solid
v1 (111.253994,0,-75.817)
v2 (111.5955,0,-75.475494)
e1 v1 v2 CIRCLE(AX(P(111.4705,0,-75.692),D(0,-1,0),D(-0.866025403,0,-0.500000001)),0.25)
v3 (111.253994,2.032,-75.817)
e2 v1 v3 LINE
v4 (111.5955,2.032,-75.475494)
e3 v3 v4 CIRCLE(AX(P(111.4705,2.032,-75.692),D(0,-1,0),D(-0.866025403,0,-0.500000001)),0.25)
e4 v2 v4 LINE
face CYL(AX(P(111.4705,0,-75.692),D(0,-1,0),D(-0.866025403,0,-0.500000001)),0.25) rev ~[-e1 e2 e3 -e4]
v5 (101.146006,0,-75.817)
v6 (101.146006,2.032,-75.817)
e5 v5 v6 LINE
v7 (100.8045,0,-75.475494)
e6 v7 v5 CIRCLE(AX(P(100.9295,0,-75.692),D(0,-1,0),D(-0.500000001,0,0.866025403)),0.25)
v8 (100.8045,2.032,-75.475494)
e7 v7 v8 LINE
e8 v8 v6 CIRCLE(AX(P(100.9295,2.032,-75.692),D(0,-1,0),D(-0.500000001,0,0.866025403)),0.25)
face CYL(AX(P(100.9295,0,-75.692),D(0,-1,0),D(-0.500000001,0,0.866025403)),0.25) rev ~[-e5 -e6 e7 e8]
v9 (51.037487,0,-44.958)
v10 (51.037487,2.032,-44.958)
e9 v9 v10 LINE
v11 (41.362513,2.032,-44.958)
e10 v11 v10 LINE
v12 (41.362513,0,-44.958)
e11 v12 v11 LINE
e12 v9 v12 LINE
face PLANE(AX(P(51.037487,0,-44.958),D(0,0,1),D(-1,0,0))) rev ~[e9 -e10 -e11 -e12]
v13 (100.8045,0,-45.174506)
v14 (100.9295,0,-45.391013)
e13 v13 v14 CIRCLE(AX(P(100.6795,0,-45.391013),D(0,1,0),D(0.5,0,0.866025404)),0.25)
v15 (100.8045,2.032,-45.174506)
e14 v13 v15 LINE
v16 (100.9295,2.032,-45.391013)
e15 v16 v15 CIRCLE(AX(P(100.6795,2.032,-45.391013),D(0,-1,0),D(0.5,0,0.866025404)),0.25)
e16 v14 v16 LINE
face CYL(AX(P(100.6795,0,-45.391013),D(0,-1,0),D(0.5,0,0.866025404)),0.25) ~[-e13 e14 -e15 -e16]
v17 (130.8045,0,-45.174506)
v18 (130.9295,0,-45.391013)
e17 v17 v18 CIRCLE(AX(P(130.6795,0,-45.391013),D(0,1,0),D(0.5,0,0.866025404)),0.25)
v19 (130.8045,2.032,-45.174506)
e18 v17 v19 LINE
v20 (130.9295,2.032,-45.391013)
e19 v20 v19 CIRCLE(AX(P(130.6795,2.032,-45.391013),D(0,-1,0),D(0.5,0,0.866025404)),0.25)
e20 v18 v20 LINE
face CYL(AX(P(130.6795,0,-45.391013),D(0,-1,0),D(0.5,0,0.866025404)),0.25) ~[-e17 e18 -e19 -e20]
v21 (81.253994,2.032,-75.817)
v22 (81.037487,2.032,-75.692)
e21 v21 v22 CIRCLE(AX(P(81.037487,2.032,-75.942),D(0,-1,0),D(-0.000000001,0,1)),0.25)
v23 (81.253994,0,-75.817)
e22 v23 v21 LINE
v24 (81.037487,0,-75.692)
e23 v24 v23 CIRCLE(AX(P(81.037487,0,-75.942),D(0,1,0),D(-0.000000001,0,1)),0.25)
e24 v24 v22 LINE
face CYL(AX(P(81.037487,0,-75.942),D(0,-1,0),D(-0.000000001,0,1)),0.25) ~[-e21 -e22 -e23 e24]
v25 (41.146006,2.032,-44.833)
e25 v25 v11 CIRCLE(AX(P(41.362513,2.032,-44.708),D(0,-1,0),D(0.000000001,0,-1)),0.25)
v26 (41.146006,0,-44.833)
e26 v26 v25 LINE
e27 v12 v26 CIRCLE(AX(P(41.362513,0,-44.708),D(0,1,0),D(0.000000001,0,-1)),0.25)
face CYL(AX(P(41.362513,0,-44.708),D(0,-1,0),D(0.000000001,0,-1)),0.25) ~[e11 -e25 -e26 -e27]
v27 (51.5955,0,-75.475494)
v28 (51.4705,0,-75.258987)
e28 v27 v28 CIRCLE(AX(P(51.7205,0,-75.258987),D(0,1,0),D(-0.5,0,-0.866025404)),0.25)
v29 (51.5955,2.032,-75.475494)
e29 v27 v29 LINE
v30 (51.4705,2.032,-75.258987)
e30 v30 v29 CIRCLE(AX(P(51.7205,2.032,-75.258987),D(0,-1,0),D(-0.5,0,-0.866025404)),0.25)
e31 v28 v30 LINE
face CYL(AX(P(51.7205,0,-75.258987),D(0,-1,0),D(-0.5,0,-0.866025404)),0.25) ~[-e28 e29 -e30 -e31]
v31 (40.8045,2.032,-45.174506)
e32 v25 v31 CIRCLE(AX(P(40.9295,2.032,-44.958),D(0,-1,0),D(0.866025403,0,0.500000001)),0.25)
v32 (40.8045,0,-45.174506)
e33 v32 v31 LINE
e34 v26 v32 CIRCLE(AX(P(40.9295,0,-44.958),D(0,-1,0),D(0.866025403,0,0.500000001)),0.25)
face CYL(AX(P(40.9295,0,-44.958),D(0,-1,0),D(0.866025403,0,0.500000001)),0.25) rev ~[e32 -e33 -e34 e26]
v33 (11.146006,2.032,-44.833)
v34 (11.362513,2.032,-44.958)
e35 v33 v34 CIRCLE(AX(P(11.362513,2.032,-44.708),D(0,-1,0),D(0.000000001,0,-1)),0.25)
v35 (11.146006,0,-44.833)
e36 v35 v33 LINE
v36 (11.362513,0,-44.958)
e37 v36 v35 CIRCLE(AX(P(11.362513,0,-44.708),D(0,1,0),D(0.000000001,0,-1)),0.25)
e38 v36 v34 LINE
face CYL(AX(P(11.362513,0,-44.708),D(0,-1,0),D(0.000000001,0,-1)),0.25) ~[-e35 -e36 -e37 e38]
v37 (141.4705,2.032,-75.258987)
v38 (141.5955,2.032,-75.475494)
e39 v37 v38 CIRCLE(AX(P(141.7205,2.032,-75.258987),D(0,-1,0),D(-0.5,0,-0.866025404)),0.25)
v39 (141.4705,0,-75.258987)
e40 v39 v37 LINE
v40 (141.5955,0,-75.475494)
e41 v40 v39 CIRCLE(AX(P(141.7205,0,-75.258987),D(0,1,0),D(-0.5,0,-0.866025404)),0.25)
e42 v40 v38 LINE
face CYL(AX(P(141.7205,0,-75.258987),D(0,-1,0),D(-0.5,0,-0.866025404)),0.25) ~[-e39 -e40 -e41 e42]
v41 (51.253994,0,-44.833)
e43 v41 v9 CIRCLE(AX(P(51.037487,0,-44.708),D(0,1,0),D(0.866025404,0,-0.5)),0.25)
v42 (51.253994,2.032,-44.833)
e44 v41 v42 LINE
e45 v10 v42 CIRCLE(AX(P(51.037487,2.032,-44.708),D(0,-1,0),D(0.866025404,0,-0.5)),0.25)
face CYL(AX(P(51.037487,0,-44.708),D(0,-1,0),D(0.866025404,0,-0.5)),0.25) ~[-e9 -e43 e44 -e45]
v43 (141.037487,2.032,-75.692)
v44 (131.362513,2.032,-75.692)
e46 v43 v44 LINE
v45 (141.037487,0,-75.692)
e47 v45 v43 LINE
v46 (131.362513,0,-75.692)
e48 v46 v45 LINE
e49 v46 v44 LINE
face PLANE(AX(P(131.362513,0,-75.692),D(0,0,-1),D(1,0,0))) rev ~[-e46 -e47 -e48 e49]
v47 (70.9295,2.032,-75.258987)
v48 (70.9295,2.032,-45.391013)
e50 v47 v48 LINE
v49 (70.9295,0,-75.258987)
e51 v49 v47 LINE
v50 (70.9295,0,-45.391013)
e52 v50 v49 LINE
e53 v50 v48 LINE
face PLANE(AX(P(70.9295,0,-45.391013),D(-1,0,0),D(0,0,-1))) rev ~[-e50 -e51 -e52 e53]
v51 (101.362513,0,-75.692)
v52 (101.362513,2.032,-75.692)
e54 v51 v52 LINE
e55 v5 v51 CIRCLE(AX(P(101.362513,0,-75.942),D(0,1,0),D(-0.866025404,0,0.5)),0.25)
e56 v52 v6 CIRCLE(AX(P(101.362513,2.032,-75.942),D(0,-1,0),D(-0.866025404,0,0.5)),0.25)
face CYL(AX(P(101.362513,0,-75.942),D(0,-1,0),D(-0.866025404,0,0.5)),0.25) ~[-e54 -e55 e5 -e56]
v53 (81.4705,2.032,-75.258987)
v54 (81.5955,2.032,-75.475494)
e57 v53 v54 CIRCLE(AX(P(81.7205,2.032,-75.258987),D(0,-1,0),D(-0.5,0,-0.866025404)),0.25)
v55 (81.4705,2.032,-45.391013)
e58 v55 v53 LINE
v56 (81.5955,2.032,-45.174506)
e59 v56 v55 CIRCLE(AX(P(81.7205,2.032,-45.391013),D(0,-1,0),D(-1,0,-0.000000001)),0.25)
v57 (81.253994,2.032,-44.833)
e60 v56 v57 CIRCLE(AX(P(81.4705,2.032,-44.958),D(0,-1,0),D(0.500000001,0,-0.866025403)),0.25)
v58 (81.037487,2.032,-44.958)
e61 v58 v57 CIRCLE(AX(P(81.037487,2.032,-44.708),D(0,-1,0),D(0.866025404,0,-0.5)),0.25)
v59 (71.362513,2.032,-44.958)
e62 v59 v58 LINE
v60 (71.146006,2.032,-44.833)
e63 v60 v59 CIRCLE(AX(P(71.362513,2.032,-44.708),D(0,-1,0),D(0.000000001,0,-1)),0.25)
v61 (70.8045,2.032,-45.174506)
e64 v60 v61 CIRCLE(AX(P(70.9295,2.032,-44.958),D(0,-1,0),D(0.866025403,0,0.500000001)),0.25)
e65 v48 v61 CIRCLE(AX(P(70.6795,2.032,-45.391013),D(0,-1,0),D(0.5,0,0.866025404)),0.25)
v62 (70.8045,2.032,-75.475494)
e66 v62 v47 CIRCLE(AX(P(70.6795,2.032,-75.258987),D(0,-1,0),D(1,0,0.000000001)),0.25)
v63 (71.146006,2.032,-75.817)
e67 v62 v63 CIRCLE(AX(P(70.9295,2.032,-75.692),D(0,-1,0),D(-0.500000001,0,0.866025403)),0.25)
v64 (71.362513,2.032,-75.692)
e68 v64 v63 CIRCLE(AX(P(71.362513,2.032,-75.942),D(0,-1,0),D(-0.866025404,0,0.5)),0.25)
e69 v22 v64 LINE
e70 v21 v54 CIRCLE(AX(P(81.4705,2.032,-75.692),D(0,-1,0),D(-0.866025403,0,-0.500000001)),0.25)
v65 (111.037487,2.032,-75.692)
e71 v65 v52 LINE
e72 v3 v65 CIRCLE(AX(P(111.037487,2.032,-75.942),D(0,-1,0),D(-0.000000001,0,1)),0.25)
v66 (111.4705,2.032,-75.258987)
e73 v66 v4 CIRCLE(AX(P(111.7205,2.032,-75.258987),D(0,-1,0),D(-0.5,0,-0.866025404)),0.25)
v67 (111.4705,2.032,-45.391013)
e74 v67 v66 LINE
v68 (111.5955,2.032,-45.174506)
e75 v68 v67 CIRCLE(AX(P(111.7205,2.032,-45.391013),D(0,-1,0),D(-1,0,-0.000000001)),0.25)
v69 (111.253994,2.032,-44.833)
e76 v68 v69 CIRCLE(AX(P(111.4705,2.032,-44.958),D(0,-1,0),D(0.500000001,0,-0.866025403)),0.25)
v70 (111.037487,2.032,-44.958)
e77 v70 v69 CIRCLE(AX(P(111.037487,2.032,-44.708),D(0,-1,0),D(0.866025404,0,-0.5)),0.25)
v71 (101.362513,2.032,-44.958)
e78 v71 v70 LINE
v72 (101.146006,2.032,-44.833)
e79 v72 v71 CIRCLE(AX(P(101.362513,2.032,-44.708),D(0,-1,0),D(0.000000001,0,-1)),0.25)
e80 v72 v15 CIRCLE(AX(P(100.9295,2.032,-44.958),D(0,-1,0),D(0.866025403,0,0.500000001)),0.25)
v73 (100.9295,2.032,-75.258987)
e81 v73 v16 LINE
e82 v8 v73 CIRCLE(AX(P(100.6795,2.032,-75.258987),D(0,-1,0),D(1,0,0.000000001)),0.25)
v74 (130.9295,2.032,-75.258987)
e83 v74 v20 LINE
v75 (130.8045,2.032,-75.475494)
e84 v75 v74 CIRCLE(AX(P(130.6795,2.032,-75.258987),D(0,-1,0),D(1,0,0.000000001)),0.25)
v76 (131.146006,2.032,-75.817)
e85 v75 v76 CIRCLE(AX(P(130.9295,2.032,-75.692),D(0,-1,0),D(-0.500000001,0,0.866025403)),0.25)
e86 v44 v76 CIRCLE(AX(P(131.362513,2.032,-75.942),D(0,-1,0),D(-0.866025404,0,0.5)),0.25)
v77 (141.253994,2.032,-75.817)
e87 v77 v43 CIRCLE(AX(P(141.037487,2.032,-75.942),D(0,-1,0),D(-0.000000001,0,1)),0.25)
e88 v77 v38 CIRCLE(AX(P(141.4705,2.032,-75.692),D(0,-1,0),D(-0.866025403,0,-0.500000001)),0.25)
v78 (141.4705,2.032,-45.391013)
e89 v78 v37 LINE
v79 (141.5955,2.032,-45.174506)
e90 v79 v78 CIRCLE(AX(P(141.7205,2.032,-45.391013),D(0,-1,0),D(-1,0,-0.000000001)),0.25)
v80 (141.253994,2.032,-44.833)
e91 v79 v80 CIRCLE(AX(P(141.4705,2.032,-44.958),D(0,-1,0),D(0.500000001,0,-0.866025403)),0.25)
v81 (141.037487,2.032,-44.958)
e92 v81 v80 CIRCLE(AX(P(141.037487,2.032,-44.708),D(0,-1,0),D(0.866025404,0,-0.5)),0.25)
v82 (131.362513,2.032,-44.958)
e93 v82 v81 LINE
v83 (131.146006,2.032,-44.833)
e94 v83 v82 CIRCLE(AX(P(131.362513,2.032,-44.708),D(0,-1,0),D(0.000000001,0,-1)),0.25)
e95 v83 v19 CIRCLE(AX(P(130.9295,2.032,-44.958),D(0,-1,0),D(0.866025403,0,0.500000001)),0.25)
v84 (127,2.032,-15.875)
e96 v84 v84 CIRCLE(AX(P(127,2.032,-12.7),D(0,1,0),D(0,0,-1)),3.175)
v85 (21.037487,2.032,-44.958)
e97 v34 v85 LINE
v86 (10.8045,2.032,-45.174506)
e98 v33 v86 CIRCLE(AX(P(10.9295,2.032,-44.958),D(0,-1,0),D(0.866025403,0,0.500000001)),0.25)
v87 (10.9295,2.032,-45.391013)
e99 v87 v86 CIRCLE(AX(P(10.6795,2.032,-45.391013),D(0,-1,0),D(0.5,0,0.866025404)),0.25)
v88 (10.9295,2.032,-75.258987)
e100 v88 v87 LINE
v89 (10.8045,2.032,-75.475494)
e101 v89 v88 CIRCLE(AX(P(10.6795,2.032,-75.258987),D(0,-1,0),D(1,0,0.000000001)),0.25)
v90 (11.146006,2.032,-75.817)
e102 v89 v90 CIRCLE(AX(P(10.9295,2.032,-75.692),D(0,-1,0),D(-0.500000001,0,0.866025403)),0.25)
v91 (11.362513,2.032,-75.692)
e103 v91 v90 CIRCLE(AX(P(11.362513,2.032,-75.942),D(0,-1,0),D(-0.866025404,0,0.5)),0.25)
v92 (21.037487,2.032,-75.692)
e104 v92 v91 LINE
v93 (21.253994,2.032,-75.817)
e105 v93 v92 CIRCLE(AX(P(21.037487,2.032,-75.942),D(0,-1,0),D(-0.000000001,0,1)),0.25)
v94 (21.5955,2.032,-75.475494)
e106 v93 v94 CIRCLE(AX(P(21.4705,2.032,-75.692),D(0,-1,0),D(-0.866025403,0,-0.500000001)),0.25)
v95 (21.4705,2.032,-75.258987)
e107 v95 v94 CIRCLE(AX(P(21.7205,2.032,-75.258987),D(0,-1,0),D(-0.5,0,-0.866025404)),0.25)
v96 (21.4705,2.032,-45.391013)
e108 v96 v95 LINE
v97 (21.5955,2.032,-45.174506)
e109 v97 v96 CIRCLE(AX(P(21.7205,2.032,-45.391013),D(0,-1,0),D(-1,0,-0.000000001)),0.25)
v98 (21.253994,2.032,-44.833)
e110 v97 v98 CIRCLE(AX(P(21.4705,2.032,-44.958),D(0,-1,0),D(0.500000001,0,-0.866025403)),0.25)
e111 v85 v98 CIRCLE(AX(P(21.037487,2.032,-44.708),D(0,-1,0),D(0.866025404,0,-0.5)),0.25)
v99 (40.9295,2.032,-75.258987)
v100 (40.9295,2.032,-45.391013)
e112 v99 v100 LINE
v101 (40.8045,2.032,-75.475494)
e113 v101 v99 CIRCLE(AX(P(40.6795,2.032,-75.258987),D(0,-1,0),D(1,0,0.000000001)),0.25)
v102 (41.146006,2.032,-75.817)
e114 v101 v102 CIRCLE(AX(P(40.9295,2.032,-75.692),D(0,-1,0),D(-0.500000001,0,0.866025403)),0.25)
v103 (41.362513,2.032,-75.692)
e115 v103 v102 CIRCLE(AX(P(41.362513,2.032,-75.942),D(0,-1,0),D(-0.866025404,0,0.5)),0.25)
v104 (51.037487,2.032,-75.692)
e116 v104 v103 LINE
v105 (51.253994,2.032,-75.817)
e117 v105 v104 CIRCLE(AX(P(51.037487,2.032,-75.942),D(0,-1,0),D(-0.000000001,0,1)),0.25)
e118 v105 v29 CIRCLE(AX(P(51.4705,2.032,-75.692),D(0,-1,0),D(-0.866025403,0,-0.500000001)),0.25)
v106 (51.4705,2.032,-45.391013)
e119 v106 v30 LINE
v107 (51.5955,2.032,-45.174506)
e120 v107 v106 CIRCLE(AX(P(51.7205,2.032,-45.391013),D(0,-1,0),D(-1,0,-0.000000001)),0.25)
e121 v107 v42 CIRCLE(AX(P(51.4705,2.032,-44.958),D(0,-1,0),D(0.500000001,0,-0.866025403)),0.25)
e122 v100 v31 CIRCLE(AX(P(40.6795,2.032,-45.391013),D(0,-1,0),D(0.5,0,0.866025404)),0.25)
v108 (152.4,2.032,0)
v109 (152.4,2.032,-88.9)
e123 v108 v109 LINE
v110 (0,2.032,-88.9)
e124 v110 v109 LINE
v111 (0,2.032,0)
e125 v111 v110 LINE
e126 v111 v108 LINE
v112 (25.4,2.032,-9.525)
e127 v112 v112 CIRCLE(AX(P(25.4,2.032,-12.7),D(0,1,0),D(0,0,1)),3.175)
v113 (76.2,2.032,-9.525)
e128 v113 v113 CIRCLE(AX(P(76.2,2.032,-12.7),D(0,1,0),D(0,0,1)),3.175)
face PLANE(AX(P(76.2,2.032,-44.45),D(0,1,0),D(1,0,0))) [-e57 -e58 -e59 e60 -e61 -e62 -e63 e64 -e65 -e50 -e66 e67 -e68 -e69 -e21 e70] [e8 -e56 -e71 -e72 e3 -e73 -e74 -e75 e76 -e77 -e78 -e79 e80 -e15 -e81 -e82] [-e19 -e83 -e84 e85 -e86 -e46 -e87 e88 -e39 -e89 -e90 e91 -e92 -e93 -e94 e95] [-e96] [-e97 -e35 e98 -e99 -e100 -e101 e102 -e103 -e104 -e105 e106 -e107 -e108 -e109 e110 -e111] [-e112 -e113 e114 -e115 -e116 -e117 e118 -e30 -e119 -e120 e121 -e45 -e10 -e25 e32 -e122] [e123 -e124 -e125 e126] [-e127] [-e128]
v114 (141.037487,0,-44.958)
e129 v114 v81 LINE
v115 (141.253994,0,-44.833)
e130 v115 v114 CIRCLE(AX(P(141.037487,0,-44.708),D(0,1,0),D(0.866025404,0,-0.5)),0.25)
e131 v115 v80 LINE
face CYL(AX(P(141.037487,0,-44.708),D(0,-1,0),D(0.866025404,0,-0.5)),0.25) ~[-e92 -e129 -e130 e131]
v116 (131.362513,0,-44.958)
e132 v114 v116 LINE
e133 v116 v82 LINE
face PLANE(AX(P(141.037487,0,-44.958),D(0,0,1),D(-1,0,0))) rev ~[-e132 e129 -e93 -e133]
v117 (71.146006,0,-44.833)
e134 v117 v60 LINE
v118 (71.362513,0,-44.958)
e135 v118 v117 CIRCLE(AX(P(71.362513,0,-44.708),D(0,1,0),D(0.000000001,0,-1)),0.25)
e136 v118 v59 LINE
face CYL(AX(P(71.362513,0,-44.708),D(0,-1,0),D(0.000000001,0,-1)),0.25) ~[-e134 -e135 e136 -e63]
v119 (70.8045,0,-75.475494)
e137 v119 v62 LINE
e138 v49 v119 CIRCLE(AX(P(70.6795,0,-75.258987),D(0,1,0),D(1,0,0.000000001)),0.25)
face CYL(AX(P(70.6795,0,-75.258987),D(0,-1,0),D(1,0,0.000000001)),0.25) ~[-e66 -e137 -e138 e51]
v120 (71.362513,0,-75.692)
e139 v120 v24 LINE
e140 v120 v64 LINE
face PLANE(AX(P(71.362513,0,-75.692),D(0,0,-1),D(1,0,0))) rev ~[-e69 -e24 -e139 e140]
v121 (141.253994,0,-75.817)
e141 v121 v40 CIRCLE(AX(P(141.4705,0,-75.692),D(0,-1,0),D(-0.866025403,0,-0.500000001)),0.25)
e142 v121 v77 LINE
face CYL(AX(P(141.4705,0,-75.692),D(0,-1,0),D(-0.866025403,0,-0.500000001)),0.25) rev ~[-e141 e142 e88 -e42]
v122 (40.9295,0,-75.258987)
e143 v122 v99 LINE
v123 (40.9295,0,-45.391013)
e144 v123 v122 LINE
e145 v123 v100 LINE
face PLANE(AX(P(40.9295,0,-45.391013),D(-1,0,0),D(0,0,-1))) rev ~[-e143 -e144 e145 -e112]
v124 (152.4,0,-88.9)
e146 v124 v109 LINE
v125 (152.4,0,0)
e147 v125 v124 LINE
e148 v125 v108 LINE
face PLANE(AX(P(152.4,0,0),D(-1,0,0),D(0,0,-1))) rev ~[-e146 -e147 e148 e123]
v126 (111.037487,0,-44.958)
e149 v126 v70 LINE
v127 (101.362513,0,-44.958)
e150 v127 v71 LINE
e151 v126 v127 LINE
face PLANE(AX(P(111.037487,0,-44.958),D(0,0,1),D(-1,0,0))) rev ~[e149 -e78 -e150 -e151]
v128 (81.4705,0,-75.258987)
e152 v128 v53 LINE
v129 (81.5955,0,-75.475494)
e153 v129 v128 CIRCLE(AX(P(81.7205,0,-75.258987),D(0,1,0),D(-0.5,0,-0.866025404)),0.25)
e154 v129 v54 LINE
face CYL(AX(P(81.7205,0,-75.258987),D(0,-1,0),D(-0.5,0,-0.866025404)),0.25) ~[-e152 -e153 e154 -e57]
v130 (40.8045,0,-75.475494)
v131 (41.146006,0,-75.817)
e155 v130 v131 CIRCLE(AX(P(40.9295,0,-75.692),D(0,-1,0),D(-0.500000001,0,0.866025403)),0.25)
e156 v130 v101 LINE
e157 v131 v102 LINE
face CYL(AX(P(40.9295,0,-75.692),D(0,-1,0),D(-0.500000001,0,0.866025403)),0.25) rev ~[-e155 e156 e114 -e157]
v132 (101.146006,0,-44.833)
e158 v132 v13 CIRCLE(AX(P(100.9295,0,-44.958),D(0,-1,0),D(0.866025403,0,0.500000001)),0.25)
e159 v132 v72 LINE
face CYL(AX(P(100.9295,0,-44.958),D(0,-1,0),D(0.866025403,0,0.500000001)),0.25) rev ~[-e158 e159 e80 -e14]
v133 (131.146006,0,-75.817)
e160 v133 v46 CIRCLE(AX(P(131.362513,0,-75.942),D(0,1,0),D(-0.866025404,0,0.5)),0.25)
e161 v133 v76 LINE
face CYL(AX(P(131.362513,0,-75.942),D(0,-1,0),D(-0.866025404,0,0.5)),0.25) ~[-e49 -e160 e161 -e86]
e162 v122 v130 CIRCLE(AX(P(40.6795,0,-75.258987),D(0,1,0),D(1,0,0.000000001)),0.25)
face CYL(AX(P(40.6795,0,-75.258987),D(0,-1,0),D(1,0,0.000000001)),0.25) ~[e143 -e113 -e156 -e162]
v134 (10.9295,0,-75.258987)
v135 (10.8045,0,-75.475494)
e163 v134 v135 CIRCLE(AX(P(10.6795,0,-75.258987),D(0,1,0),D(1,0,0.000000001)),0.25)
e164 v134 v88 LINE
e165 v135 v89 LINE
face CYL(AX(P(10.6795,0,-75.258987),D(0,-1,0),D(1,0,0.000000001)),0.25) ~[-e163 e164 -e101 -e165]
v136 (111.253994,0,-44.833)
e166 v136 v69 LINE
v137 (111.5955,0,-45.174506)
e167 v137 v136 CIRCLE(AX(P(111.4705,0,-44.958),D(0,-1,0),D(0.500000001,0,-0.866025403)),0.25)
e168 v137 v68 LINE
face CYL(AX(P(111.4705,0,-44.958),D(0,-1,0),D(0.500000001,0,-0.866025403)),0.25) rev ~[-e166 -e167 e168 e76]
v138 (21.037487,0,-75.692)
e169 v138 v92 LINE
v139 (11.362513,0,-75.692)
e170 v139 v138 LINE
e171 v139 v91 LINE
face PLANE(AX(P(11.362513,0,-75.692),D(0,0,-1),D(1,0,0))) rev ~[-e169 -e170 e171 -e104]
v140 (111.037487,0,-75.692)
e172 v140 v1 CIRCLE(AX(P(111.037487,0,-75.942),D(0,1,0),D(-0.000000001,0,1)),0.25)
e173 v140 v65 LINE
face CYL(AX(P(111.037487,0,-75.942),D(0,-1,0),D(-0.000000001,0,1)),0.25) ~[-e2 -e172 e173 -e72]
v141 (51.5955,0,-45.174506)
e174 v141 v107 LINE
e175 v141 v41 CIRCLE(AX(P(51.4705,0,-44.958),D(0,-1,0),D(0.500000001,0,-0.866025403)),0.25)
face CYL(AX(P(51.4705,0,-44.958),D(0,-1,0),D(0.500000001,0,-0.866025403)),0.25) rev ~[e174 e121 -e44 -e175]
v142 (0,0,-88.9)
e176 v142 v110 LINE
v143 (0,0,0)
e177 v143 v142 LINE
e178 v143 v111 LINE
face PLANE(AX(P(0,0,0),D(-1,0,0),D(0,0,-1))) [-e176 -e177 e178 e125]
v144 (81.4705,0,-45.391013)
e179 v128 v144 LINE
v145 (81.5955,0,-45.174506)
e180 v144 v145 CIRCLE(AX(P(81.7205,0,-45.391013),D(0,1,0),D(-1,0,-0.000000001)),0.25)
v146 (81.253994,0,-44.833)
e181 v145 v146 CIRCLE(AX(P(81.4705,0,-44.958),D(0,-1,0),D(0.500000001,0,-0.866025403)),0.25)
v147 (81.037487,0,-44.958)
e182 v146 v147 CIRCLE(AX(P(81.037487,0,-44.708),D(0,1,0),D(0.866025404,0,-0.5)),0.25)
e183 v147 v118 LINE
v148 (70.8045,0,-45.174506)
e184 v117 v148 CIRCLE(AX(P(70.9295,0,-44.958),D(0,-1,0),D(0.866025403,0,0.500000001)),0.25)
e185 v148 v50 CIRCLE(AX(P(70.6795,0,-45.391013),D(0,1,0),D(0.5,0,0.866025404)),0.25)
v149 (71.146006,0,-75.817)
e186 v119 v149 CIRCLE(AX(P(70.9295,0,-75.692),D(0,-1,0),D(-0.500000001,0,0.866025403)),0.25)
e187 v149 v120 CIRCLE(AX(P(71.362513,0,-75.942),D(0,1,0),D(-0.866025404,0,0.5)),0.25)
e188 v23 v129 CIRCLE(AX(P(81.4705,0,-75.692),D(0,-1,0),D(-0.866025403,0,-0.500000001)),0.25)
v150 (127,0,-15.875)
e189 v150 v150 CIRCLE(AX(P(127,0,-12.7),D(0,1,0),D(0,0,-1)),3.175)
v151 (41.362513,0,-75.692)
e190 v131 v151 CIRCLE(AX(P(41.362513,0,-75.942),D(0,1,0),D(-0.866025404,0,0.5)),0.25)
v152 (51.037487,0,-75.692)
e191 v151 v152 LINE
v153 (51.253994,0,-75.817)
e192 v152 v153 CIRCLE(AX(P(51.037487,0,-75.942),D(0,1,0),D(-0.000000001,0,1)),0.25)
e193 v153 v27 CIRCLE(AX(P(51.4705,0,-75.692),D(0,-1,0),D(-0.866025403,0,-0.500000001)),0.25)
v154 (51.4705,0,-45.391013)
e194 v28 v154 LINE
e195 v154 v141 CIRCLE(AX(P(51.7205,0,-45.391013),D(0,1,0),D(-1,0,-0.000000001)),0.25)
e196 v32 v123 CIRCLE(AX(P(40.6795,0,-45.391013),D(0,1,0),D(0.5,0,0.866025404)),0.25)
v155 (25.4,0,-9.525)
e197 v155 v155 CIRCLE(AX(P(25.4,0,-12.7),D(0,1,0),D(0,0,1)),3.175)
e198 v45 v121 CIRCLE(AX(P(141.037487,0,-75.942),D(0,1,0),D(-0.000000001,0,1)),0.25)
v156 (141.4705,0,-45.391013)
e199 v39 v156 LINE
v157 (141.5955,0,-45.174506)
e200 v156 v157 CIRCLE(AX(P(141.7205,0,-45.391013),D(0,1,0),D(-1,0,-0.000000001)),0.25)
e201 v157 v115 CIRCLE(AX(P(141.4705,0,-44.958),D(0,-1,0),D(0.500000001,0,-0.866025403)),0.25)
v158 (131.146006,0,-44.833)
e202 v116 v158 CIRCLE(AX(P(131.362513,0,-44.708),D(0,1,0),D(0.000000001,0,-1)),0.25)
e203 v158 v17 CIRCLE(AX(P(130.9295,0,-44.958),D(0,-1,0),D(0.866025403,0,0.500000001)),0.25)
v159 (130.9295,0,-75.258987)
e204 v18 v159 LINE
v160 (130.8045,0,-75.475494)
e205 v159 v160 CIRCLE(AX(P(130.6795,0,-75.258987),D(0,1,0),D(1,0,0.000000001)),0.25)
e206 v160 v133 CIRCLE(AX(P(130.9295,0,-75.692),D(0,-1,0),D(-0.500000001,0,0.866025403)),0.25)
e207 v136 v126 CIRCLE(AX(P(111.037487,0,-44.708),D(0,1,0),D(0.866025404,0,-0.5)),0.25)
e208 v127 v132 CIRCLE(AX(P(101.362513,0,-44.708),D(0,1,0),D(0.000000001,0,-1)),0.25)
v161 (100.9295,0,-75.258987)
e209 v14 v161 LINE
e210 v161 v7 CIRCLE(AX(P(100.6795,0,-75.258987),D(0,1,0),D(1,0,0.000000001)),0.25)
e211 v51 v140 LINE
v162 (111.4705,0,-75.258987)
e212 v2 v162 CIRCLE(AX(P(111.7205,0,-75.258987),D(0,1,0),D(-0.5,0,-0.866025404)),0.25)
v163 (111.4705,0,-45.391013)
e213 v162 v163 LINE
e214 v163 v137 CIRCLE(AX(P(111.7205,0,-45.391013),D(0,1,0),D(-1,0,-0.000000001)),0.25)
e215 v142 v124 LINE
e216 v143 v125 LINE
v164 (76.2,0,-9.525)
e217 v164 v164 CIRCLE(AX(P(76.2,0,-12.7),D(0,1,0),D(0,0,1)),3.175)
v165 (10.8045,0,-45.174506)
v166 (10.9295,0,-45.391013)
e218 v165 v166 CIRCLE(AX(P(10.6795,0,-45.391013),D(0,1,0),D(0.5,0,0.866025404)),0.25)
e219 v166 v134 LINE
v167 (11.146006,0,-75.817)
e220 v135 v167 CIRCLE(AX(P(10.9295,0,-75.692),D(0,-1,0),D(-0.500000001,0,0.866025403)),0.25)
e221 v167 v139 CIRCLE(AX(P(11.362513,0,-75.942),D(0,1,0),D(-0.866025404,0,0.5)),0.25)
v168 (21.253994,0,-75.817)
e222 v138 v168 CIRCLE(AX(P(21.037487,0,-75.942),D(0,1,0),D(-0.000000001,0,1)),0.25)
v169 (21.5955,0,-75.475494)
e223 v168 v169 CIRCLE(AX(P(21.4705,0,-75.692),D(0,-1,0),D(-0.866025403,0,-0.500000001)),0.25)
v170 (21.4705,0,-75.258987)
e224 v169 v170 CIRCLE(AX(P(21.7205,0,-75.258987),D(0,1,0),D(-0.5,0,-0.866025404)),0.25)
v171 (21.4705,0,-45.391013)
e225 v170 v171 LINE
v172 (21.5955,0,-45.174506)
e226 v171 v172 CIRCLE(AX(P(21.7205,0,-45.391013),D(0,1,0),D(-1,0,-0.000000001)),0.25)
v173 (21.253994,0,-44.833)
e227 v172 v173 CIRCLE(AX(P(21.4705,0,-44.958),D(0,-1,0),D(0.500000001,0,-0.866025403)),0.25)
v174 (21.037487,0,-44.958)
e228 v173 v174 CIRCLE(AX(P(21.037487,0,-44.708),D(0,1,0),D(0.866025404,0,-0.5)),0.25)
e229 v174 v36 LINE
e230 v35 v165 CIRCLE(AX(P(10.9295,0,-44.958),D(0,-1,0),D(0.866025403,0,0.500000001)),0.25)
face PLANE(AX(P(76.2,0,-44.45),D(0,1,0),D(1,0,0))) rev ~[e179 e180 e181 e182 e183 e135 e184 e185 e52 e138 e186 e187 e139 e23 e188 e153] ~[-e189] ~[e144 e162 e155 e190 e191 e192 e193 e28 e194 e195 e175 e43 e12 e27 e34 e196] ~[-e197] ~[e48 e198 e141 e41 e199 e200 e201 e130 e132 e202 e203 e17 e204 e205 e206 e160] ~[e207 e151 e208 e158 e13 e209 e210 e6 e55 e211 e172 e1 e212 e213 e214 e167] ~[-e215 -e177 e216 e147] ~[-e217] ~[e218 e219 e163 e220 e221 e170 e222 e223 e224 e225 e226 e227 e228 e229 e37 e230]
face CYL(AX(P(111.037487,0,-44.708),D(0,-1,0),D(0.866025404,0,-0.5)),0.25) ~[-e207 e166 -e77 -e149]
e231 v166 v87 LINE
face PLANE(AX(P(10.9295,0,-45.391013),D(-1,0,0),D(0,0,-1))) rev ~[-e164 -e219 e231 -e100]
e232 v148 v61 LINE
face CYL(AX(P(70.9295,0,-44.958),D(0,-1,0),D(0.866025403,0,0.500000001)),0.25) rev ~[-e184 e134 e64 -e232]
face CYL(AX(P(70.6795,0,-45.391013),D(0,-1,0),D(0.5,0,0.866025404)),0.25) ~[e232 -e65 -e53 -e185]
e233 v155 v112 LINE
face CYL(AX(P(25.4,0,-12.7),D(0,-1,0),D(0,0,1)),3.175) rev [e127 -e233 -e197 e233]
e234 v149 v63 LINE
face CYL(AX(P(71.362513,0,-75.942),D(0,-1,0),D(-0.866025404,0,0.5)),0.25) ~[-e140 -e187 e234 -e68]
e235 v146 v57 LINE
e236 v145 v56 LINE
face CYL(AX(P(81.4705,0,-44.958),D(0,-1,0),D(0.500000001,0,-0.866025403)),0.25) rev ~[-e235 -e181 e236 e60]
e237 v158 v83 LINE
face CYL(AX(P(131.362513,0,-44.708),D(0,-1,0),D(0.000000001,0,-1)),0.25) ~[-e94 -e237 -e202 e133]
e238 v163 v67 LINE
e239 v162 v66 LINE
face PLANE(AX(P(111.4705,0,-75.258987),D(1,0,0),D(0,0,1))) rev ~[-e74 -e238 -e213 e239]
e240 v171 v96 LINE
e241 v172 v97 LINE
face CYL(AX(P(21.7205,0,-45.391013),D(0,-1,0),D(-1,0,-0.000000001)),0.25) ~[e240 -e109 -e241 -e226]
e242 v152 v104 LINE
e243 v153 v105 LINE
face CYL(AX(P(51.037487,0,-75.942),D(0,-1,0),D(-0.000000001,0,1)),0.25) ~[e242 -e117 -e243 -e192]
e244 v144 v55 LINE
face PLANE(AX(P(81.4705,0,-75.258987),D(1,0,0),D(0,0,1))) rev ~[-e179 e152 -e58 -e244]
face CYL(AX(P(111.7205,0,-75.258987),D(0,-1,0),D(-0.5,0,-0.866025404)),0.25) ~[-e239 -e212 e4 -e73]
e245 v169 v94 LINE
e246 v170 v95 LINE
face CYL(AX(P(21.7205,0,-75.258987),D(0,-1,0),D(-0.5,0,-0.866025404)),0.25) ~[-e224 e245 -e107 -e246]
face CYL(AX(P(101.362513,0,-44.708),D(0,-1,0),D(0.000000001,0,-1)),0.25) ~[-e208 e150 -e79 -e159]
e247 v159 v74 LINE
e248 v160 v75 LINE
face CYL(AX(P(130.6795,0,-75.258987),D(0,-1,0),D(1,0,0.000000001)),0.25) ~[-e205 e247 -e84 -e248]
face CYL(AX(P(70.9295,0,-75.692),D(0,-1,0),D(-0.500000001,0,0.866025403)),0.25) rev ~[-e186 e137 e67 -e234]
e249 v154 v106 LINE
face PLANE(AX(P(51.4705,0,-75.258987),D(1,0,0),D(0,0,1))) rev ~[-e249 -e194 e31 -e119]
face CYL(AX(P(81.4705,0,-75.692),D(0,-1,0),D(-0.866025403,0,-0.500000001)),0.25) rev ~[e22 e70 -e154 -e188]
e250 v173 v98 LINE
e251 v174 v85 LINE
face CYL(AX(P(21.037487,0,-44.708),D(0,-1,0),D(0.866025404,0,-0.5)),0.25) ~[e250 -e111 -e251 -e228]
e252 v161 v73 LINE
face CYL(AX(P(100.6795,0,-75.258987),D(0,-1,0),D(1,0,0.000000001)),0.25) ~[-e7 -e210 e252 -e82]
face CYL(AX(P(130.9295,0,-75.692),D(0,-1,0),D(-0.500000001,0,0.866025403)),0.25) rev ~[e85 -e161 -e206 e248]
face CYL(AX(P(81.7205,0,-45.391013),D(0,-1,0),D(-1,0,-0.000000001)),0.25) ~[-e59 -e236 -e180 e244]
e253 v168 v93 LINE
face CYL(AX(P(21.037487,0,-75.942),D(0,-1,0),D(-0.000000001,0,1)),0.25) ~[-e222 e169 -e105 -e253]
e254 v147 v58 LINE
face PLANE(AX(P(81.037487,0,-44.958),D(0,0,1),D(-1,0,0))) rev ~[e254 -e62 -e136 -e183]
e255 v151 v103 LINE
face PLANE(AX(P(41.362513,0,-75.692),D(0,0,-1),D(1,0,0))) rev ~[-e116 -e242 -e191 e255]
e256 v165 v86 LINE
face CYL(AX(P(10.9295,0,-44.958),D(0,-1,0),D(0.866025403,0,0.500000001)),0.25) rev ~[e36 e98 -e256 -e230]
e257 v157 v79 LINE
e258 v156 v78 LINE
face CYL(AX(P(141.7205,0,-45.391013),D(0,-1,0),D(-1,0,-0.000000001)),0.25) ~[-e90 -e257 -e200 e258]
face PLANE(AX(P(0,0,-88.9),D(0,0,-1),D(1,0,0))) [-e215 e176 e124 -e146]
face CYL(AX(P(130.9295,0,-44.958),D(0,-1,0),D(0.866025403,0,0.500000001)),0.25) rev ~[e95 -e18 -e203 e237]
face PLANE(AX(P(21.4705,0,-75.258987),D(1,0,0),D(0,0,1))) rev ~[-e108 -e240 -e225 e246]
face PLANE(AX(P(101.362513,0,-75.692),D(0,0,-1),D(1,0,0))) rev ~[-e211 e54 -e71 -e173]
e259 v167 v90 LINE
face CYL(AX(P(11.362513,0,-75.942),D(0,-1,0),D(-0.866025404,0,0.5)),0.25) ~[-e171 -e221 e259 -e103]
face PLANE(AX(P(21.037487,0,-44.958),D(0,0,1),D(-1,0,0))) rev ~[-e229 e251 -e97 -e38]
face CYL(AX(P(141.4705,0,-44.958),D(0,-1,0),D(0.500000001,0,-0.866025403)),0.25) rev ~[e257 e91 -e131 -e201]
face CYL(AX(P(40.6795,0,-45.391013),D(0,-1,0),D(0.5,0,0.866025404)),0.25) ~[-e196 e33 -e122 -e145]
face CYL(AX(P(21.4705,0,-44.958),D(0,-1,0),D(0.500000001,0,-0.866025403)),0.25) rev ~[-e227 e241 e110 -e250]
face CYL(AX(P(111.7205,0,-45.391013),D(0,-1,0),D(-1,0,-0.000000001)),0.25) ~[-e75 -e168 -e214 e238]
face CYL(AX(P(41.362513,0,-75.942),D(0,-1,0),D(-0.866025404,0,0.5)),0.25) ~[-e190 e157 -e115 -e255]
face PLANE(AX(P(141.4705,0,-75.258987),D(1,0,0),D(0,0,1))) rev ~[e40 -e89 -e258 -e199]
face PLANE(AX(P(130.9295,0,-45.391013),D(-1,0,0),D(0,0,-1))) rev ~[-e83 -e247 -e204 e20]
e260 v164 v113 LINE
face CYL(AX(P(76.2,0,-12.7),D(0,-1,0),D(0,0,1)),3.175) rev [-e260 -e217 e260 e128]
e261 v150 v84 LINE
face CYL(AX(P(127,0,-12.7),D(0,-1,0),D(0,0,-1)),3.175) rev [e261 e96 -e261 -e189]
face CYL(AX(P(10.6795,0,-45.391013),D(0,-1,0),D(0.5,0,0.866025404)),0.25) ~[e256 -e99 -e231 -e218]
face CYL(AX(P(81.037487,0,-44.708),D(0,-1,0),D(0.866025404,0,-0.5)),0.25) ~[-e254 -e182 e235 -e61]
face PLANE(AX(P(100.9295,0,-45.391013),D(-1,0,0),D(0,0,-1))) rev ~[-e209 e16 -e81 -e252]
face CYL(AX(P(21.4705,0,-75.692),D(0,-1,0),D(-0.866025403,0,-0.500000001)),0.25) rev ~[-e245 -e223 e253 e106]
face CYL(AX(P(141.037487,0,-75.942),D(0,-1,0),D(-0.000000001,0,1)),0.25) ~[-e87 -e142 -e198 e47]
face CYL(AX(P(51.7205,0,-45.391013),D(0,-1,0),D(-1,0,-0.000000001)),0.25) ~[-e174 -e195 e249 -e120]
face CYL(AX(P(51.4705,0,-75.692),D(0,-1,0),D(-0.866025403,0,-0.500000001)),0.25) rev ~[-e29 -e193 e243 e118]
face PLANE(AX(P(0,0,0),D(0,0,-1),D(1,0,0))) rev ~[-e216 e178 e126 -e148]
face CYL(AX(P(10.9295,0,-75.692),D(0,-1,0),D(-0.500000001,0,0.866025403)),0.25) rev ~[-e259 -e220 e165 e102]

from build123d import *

# Parameters (mm, degrees)
SKETCH1_W           = 152.4
SKETCH1_H           = 88.9
SKETCH1_R           = 3.175
BOSS_EXTRUDE1_DEPTH = 2.032
CUT_EXTRUDE1_DEPTH  = 177.445739603


with BuildPart() as part:
    # Sketch1 → Boss-Extrude1 (new body)
    with BuildSketch(Plane(origin=(0, 0, 0), x_dir=(1, 0, 0), z_dir=(0, 1, 0))):
        with Locations((76.2, 44.45)):
            Rectangle(SKETCH1_W, SKETCH1_H)
        with Locations(Location((76.2, 12.7, 0), (0, 0, 270))):
            Circle(SKETCH1_R, mode=Mode.SUBTRACT)
        with Locations(Location((25.4, 12.7, 0), (0, 0, 270))):
            Circle(SKETCH1_R, mode=Mode.SUBTRACT)
        with Locations(Location((127, 12.7, 0), (0, 0, 90))):
            Circle(SKETCH1_R, mode=Mode.SUBTRACT)
    extrude(amount=BOSS_EXTRUDE1_DEPTH)

    # Sketch2 → Cut-Extrude1 (cut, through all)
    with BuildSketch(Plane.XZ):
        with BuildLine():
            ThreePointArc((141.5955, -45.174506351), (141.647276695, -44.781223305), (141.253993649, -44.833))
            ThreePointArc((141.253993649, -44.833), (141.162487298, -44.924506351), (141.037487298, -44.958))
            Line((141.037487298, -44.958), (131.362512702, -44.958))
            ThreePointArc((131.362512702, -44.958), (131.237512702, -44.924506351), (131.146006351, -44.833))
            ThreePointArc((131.146006351, -44.833), (130.752723305, -44.781223305), (130.8045, -45.174506351))
            ThreePointArc((130.8045, -45.174506351), (130.896006351, -45.266012702), (130.9295, -45.391012702))
            Line((130.9295, -45.391012702), (130.9295, -75.258987298))
            ThreePointArc((130.9295, -75.258987298), (130.896006351, -75.383987298), (130.8045, -75.475493649))
            ThreePointArc((130.8045, -75.475493649), (130.752723305, -75.868776695), (131.146006351, -75.817))
            ThreePointArc((131.146006351, -75.817), (131.237512702, -75.725493649), (131.362512702, -75.692))
            Line((131.362512702, -75.692), (141.037487298, -75.692))
            ThreePointArc((141.037487298, -75.692), (141.162487298, -75.725493649), (141.253993649, -75.817))
            ThreePointArc((141.253993649, -75.817), (141.647276695, -75.868776695), (141.5955, -75.475493649))
            ThreePointArc((141.5955, -75.475493649), (141.503993649, -75.383987298), (141.4705, -75.258987298))
            Line((141.4705, -75.258987298), (141.4705, -45.391012702))
            ThreePointArc((141.4705, -45.391012702), (141.503993649, -45.266012702), (141.5955, -45.174506351))
        make_face()
        with BuildLine():
            ThreePointArc((111.5955, -45.174506351), (111.647276695, -44.781223305), (111.253993649, -44.833))
            ThreePointArc((111.253993649, -44.833), (111.162487298, -44.924506351), (111.037487298, -44.958))
            Line((111.037487298, -44.958), (101.362512702, -44.958))
            ThreePointArc((101.362512702, -44.958), (101.237512702, -44.924506351), (101.146006351, -44.833))
            ThreePointArc((101.146006351, -44.833), (100.752723305, -44.781223305), (100.8045, -45.174506351))
            ThreePointArc((100.8045, -45.174506351), (100.896006351, -45.266012702), (100.9295, -45.391012702))
            Line((100.9295, -45.391012702), (100.9295, -75.258987298))
            ThreePointArc((100.9295, -75.258987298), (100.896006351, -75.383987298), (100.8045, -75.475493649))
            ThreePointArc((100.8045, -75.475493649), (100.752723305, -75.868776695), (101.146006351, -75.817))
            ThreePointArc((101.146006351, -75.817), (101.237512702, -75.725493649), (101.362512702, -75.692))
            Line((101.362512702, -75.692), (111.037487298, -75.692))
            ThreePointArc((111.037487298, -75.692), (111.162487298, -75.725493649), (111.253993649, -75.817))
            ThreePointArc((111.253993649, -75.817), (111.647276695, -75.868776695), (111.5955, -75.475493649))
            ThreePointArc((111.5955, -75.475493649), (111.503993649, -75.383987298), (111.4705, -75.258987298))
            Line((111.4705, -75.258987298), (111.4705, -45.391012702))
            ThreePointArc((111.4705, -45.391012702), (111.503993649, -45.266012702), (111.5955, -45.174506351))
        make_face()
        with BuildLine():
            ThreePointArc((81.5955, -45.174506351), (81.647276695, -44.781223305), (81.253993649, -44.833))
            ThreePointArc((81.253993649, -44.833), (81.162487298, -44.924506351), (81.037487298, -44.958))
            Line((81.037487298, -44.958), (71.362512702, -44.958))
            ThreePointArc((71.362512702, -44.958), (71.237512702, -44.924506351), (71.146006351, -44.833))
            ThreePointArc((71.146006351, -44.833), (70.752723305, -44.781223305), (70.8045, -45.174506351))
            ThreePointArc((70.8045, -45.174506351), (70.896006351, -45.266012702), (70.9295, -45.391012702))
            Line((70.9295, -45.391012702), (70.9295, -75.258987298))
            ThreePointArc((70.9295, -75.258987298), (70.896006351, -75.383987298), (70.8045, -75.475493649))
            ThreePointArc((70.8045, -75.475493649), (70.752723305, -75.868776695), (71.146006351, -75.817))
            ThreePointArc((71.146006351, -75.817), (71.237512702, -75.725493649), (71.362512702, -75.692))
            Line((71.362512702, -75.692), (81.037487298, -75.692))
            ThreePointArc((81.037487298, -75.692), (81.162487298, -75.725493649), (81.253993649, -75.817))
            ThreePointArc((81.253993649, -75.817), (81.647276695, -75.868776695), (81.5955, -75.475493649))
            ThreePointArc((81.5955, -75.475493649), (81.503993649, -75.383987298), (81.4705, -75.258987298))
            Line((81.4705, -75.258987298), (81.4705, -45.391012702))
            ThreePointArc((81.4705, -45.391012702), (81.503993649, -45.266012702), (81.5955, -45.174506351))
        make_face()
        with BuildLine():
            ThreePointArc((51.5955, -45.174506351), (51.647276695, -44.781223305), (51.253993649, -44.833))
            ThreePointArc((51.253993649, -44.833), (51.162487298, -44.924506351), (51.037487298, -44.958))
            Line((51.037487298, -44.958), (41.362512702, -44.958))
            ThreePointArc((41.362512702, -44.958), (41.237512702, -44.924506351), (41.146006351, -44.833))
            ThreePointArc((41.146006351, -44.833), (40.752723305, -44.781223305), (40.8045, -45.174506351))
            ThreePointArc((40.8045, -45.174506351), (40.896006351, -45.266012702), (40.9295, -45.391012702))
            Line((40.9295, -45.391012702), (40.9295, -75.258987298))
            ThreePointArc((40.9295, -75.258987298), (40.896006351, -75.383987298), (40.8045, -75.475493649))
            ThreePointArc((40.8045, -75.475493649), (40.752723305, -75.868776695), (41.146006351, -75.817))
            ThreePointArc((41.146006351, -75.817), (41.237512702, -75.725493649), (41.362512702, -75.692))
            Line((41.362512702, -75.692), (51.037487298, -75.692))
            ThreePointArc((51.037487298, -75.692), (51.162487298, -75.725493649), (51.253993649, -75.817))
            ThreePointArc((51.253993649, -75.817), (51.647276695, -75.868776695), (51.5955, -75.475493649))
            ThreePointArc((51.5955, -75.475493649), (51.503993649, -75.383987298), (51.4705, -75.258987298))
            Line((51.4705, -75.258987298), (51.4705, -45.391012702))
            ThreePointArc((51.4705, -45.391012702), (51.503993649, -45.266012702), (51.5955, -45.174506351))
        make_face()
        with BuildLine():
            ThreePointArc((21.5955, -45.174506351), (21.647276695, -44.781223305), (21.253993649, -44.833))
            ThreePointArc((21.253993649, -44.833), (21.162487298, -44.924506351), (21.037487298, -44.958))
            Line((21.037487298, -44.958), (11.362512702, -44.958))
            ThreePointArc((11.362512702, -44.958), (11.237512702, -44.924506351), (11.146006351, -44.833))
            ThreePointArc((11.146006351, -44.833), (10.752723305, -44.781223305), (10.8045, -45.174506351))
            ThreePointArc((10.8045, -45.174506351), (10.896006351, -45.266012702), (10.9295, -45.391012702))
            Line((10.9295, -45.391012702), (10.9295, -75.258987298))
            ThreePointArc((10.9295, -75.258987298), (10.896006351, -75.383987298), (10.8045, -75.475493649))
            ThreePointArc((10.8045, -75.475493649), (10.752723305, -75.868776695), (11.146006351, -75.817))
            ThreePointArc((11.146006351, -75.817), (11.237512702, -75.725493649), (11.362512702, -75.692))
            Line((11.362512702, -75.692), (21.037487298, -75.692))
            ThreePointArc((21.037487298, -75.692), (21.162487298, -75.725493649), (21.253993649, -75.817))
            ThreePointArc((21.253993649, -75.817), (21.647276695, -75.868776695), (21.5955, -75.475493649))
            ThreePointArc((21.5955, -75.475493649), (21.503993649, -75.383987298), (21.4705, -75.258987298))
            Line((21.4705, -75.258987298), (21.4705, -45.391012702))
            ThreePointArc((21.4705, -45.391012702), (21.503993649, -45.266012702), (21.5955, -45.174506351))
        make_face()
    extrude(amount=-CUT_EXTRUDE1_DEPTH, mode=Mode.SUBTRACT)


solid = part.part
